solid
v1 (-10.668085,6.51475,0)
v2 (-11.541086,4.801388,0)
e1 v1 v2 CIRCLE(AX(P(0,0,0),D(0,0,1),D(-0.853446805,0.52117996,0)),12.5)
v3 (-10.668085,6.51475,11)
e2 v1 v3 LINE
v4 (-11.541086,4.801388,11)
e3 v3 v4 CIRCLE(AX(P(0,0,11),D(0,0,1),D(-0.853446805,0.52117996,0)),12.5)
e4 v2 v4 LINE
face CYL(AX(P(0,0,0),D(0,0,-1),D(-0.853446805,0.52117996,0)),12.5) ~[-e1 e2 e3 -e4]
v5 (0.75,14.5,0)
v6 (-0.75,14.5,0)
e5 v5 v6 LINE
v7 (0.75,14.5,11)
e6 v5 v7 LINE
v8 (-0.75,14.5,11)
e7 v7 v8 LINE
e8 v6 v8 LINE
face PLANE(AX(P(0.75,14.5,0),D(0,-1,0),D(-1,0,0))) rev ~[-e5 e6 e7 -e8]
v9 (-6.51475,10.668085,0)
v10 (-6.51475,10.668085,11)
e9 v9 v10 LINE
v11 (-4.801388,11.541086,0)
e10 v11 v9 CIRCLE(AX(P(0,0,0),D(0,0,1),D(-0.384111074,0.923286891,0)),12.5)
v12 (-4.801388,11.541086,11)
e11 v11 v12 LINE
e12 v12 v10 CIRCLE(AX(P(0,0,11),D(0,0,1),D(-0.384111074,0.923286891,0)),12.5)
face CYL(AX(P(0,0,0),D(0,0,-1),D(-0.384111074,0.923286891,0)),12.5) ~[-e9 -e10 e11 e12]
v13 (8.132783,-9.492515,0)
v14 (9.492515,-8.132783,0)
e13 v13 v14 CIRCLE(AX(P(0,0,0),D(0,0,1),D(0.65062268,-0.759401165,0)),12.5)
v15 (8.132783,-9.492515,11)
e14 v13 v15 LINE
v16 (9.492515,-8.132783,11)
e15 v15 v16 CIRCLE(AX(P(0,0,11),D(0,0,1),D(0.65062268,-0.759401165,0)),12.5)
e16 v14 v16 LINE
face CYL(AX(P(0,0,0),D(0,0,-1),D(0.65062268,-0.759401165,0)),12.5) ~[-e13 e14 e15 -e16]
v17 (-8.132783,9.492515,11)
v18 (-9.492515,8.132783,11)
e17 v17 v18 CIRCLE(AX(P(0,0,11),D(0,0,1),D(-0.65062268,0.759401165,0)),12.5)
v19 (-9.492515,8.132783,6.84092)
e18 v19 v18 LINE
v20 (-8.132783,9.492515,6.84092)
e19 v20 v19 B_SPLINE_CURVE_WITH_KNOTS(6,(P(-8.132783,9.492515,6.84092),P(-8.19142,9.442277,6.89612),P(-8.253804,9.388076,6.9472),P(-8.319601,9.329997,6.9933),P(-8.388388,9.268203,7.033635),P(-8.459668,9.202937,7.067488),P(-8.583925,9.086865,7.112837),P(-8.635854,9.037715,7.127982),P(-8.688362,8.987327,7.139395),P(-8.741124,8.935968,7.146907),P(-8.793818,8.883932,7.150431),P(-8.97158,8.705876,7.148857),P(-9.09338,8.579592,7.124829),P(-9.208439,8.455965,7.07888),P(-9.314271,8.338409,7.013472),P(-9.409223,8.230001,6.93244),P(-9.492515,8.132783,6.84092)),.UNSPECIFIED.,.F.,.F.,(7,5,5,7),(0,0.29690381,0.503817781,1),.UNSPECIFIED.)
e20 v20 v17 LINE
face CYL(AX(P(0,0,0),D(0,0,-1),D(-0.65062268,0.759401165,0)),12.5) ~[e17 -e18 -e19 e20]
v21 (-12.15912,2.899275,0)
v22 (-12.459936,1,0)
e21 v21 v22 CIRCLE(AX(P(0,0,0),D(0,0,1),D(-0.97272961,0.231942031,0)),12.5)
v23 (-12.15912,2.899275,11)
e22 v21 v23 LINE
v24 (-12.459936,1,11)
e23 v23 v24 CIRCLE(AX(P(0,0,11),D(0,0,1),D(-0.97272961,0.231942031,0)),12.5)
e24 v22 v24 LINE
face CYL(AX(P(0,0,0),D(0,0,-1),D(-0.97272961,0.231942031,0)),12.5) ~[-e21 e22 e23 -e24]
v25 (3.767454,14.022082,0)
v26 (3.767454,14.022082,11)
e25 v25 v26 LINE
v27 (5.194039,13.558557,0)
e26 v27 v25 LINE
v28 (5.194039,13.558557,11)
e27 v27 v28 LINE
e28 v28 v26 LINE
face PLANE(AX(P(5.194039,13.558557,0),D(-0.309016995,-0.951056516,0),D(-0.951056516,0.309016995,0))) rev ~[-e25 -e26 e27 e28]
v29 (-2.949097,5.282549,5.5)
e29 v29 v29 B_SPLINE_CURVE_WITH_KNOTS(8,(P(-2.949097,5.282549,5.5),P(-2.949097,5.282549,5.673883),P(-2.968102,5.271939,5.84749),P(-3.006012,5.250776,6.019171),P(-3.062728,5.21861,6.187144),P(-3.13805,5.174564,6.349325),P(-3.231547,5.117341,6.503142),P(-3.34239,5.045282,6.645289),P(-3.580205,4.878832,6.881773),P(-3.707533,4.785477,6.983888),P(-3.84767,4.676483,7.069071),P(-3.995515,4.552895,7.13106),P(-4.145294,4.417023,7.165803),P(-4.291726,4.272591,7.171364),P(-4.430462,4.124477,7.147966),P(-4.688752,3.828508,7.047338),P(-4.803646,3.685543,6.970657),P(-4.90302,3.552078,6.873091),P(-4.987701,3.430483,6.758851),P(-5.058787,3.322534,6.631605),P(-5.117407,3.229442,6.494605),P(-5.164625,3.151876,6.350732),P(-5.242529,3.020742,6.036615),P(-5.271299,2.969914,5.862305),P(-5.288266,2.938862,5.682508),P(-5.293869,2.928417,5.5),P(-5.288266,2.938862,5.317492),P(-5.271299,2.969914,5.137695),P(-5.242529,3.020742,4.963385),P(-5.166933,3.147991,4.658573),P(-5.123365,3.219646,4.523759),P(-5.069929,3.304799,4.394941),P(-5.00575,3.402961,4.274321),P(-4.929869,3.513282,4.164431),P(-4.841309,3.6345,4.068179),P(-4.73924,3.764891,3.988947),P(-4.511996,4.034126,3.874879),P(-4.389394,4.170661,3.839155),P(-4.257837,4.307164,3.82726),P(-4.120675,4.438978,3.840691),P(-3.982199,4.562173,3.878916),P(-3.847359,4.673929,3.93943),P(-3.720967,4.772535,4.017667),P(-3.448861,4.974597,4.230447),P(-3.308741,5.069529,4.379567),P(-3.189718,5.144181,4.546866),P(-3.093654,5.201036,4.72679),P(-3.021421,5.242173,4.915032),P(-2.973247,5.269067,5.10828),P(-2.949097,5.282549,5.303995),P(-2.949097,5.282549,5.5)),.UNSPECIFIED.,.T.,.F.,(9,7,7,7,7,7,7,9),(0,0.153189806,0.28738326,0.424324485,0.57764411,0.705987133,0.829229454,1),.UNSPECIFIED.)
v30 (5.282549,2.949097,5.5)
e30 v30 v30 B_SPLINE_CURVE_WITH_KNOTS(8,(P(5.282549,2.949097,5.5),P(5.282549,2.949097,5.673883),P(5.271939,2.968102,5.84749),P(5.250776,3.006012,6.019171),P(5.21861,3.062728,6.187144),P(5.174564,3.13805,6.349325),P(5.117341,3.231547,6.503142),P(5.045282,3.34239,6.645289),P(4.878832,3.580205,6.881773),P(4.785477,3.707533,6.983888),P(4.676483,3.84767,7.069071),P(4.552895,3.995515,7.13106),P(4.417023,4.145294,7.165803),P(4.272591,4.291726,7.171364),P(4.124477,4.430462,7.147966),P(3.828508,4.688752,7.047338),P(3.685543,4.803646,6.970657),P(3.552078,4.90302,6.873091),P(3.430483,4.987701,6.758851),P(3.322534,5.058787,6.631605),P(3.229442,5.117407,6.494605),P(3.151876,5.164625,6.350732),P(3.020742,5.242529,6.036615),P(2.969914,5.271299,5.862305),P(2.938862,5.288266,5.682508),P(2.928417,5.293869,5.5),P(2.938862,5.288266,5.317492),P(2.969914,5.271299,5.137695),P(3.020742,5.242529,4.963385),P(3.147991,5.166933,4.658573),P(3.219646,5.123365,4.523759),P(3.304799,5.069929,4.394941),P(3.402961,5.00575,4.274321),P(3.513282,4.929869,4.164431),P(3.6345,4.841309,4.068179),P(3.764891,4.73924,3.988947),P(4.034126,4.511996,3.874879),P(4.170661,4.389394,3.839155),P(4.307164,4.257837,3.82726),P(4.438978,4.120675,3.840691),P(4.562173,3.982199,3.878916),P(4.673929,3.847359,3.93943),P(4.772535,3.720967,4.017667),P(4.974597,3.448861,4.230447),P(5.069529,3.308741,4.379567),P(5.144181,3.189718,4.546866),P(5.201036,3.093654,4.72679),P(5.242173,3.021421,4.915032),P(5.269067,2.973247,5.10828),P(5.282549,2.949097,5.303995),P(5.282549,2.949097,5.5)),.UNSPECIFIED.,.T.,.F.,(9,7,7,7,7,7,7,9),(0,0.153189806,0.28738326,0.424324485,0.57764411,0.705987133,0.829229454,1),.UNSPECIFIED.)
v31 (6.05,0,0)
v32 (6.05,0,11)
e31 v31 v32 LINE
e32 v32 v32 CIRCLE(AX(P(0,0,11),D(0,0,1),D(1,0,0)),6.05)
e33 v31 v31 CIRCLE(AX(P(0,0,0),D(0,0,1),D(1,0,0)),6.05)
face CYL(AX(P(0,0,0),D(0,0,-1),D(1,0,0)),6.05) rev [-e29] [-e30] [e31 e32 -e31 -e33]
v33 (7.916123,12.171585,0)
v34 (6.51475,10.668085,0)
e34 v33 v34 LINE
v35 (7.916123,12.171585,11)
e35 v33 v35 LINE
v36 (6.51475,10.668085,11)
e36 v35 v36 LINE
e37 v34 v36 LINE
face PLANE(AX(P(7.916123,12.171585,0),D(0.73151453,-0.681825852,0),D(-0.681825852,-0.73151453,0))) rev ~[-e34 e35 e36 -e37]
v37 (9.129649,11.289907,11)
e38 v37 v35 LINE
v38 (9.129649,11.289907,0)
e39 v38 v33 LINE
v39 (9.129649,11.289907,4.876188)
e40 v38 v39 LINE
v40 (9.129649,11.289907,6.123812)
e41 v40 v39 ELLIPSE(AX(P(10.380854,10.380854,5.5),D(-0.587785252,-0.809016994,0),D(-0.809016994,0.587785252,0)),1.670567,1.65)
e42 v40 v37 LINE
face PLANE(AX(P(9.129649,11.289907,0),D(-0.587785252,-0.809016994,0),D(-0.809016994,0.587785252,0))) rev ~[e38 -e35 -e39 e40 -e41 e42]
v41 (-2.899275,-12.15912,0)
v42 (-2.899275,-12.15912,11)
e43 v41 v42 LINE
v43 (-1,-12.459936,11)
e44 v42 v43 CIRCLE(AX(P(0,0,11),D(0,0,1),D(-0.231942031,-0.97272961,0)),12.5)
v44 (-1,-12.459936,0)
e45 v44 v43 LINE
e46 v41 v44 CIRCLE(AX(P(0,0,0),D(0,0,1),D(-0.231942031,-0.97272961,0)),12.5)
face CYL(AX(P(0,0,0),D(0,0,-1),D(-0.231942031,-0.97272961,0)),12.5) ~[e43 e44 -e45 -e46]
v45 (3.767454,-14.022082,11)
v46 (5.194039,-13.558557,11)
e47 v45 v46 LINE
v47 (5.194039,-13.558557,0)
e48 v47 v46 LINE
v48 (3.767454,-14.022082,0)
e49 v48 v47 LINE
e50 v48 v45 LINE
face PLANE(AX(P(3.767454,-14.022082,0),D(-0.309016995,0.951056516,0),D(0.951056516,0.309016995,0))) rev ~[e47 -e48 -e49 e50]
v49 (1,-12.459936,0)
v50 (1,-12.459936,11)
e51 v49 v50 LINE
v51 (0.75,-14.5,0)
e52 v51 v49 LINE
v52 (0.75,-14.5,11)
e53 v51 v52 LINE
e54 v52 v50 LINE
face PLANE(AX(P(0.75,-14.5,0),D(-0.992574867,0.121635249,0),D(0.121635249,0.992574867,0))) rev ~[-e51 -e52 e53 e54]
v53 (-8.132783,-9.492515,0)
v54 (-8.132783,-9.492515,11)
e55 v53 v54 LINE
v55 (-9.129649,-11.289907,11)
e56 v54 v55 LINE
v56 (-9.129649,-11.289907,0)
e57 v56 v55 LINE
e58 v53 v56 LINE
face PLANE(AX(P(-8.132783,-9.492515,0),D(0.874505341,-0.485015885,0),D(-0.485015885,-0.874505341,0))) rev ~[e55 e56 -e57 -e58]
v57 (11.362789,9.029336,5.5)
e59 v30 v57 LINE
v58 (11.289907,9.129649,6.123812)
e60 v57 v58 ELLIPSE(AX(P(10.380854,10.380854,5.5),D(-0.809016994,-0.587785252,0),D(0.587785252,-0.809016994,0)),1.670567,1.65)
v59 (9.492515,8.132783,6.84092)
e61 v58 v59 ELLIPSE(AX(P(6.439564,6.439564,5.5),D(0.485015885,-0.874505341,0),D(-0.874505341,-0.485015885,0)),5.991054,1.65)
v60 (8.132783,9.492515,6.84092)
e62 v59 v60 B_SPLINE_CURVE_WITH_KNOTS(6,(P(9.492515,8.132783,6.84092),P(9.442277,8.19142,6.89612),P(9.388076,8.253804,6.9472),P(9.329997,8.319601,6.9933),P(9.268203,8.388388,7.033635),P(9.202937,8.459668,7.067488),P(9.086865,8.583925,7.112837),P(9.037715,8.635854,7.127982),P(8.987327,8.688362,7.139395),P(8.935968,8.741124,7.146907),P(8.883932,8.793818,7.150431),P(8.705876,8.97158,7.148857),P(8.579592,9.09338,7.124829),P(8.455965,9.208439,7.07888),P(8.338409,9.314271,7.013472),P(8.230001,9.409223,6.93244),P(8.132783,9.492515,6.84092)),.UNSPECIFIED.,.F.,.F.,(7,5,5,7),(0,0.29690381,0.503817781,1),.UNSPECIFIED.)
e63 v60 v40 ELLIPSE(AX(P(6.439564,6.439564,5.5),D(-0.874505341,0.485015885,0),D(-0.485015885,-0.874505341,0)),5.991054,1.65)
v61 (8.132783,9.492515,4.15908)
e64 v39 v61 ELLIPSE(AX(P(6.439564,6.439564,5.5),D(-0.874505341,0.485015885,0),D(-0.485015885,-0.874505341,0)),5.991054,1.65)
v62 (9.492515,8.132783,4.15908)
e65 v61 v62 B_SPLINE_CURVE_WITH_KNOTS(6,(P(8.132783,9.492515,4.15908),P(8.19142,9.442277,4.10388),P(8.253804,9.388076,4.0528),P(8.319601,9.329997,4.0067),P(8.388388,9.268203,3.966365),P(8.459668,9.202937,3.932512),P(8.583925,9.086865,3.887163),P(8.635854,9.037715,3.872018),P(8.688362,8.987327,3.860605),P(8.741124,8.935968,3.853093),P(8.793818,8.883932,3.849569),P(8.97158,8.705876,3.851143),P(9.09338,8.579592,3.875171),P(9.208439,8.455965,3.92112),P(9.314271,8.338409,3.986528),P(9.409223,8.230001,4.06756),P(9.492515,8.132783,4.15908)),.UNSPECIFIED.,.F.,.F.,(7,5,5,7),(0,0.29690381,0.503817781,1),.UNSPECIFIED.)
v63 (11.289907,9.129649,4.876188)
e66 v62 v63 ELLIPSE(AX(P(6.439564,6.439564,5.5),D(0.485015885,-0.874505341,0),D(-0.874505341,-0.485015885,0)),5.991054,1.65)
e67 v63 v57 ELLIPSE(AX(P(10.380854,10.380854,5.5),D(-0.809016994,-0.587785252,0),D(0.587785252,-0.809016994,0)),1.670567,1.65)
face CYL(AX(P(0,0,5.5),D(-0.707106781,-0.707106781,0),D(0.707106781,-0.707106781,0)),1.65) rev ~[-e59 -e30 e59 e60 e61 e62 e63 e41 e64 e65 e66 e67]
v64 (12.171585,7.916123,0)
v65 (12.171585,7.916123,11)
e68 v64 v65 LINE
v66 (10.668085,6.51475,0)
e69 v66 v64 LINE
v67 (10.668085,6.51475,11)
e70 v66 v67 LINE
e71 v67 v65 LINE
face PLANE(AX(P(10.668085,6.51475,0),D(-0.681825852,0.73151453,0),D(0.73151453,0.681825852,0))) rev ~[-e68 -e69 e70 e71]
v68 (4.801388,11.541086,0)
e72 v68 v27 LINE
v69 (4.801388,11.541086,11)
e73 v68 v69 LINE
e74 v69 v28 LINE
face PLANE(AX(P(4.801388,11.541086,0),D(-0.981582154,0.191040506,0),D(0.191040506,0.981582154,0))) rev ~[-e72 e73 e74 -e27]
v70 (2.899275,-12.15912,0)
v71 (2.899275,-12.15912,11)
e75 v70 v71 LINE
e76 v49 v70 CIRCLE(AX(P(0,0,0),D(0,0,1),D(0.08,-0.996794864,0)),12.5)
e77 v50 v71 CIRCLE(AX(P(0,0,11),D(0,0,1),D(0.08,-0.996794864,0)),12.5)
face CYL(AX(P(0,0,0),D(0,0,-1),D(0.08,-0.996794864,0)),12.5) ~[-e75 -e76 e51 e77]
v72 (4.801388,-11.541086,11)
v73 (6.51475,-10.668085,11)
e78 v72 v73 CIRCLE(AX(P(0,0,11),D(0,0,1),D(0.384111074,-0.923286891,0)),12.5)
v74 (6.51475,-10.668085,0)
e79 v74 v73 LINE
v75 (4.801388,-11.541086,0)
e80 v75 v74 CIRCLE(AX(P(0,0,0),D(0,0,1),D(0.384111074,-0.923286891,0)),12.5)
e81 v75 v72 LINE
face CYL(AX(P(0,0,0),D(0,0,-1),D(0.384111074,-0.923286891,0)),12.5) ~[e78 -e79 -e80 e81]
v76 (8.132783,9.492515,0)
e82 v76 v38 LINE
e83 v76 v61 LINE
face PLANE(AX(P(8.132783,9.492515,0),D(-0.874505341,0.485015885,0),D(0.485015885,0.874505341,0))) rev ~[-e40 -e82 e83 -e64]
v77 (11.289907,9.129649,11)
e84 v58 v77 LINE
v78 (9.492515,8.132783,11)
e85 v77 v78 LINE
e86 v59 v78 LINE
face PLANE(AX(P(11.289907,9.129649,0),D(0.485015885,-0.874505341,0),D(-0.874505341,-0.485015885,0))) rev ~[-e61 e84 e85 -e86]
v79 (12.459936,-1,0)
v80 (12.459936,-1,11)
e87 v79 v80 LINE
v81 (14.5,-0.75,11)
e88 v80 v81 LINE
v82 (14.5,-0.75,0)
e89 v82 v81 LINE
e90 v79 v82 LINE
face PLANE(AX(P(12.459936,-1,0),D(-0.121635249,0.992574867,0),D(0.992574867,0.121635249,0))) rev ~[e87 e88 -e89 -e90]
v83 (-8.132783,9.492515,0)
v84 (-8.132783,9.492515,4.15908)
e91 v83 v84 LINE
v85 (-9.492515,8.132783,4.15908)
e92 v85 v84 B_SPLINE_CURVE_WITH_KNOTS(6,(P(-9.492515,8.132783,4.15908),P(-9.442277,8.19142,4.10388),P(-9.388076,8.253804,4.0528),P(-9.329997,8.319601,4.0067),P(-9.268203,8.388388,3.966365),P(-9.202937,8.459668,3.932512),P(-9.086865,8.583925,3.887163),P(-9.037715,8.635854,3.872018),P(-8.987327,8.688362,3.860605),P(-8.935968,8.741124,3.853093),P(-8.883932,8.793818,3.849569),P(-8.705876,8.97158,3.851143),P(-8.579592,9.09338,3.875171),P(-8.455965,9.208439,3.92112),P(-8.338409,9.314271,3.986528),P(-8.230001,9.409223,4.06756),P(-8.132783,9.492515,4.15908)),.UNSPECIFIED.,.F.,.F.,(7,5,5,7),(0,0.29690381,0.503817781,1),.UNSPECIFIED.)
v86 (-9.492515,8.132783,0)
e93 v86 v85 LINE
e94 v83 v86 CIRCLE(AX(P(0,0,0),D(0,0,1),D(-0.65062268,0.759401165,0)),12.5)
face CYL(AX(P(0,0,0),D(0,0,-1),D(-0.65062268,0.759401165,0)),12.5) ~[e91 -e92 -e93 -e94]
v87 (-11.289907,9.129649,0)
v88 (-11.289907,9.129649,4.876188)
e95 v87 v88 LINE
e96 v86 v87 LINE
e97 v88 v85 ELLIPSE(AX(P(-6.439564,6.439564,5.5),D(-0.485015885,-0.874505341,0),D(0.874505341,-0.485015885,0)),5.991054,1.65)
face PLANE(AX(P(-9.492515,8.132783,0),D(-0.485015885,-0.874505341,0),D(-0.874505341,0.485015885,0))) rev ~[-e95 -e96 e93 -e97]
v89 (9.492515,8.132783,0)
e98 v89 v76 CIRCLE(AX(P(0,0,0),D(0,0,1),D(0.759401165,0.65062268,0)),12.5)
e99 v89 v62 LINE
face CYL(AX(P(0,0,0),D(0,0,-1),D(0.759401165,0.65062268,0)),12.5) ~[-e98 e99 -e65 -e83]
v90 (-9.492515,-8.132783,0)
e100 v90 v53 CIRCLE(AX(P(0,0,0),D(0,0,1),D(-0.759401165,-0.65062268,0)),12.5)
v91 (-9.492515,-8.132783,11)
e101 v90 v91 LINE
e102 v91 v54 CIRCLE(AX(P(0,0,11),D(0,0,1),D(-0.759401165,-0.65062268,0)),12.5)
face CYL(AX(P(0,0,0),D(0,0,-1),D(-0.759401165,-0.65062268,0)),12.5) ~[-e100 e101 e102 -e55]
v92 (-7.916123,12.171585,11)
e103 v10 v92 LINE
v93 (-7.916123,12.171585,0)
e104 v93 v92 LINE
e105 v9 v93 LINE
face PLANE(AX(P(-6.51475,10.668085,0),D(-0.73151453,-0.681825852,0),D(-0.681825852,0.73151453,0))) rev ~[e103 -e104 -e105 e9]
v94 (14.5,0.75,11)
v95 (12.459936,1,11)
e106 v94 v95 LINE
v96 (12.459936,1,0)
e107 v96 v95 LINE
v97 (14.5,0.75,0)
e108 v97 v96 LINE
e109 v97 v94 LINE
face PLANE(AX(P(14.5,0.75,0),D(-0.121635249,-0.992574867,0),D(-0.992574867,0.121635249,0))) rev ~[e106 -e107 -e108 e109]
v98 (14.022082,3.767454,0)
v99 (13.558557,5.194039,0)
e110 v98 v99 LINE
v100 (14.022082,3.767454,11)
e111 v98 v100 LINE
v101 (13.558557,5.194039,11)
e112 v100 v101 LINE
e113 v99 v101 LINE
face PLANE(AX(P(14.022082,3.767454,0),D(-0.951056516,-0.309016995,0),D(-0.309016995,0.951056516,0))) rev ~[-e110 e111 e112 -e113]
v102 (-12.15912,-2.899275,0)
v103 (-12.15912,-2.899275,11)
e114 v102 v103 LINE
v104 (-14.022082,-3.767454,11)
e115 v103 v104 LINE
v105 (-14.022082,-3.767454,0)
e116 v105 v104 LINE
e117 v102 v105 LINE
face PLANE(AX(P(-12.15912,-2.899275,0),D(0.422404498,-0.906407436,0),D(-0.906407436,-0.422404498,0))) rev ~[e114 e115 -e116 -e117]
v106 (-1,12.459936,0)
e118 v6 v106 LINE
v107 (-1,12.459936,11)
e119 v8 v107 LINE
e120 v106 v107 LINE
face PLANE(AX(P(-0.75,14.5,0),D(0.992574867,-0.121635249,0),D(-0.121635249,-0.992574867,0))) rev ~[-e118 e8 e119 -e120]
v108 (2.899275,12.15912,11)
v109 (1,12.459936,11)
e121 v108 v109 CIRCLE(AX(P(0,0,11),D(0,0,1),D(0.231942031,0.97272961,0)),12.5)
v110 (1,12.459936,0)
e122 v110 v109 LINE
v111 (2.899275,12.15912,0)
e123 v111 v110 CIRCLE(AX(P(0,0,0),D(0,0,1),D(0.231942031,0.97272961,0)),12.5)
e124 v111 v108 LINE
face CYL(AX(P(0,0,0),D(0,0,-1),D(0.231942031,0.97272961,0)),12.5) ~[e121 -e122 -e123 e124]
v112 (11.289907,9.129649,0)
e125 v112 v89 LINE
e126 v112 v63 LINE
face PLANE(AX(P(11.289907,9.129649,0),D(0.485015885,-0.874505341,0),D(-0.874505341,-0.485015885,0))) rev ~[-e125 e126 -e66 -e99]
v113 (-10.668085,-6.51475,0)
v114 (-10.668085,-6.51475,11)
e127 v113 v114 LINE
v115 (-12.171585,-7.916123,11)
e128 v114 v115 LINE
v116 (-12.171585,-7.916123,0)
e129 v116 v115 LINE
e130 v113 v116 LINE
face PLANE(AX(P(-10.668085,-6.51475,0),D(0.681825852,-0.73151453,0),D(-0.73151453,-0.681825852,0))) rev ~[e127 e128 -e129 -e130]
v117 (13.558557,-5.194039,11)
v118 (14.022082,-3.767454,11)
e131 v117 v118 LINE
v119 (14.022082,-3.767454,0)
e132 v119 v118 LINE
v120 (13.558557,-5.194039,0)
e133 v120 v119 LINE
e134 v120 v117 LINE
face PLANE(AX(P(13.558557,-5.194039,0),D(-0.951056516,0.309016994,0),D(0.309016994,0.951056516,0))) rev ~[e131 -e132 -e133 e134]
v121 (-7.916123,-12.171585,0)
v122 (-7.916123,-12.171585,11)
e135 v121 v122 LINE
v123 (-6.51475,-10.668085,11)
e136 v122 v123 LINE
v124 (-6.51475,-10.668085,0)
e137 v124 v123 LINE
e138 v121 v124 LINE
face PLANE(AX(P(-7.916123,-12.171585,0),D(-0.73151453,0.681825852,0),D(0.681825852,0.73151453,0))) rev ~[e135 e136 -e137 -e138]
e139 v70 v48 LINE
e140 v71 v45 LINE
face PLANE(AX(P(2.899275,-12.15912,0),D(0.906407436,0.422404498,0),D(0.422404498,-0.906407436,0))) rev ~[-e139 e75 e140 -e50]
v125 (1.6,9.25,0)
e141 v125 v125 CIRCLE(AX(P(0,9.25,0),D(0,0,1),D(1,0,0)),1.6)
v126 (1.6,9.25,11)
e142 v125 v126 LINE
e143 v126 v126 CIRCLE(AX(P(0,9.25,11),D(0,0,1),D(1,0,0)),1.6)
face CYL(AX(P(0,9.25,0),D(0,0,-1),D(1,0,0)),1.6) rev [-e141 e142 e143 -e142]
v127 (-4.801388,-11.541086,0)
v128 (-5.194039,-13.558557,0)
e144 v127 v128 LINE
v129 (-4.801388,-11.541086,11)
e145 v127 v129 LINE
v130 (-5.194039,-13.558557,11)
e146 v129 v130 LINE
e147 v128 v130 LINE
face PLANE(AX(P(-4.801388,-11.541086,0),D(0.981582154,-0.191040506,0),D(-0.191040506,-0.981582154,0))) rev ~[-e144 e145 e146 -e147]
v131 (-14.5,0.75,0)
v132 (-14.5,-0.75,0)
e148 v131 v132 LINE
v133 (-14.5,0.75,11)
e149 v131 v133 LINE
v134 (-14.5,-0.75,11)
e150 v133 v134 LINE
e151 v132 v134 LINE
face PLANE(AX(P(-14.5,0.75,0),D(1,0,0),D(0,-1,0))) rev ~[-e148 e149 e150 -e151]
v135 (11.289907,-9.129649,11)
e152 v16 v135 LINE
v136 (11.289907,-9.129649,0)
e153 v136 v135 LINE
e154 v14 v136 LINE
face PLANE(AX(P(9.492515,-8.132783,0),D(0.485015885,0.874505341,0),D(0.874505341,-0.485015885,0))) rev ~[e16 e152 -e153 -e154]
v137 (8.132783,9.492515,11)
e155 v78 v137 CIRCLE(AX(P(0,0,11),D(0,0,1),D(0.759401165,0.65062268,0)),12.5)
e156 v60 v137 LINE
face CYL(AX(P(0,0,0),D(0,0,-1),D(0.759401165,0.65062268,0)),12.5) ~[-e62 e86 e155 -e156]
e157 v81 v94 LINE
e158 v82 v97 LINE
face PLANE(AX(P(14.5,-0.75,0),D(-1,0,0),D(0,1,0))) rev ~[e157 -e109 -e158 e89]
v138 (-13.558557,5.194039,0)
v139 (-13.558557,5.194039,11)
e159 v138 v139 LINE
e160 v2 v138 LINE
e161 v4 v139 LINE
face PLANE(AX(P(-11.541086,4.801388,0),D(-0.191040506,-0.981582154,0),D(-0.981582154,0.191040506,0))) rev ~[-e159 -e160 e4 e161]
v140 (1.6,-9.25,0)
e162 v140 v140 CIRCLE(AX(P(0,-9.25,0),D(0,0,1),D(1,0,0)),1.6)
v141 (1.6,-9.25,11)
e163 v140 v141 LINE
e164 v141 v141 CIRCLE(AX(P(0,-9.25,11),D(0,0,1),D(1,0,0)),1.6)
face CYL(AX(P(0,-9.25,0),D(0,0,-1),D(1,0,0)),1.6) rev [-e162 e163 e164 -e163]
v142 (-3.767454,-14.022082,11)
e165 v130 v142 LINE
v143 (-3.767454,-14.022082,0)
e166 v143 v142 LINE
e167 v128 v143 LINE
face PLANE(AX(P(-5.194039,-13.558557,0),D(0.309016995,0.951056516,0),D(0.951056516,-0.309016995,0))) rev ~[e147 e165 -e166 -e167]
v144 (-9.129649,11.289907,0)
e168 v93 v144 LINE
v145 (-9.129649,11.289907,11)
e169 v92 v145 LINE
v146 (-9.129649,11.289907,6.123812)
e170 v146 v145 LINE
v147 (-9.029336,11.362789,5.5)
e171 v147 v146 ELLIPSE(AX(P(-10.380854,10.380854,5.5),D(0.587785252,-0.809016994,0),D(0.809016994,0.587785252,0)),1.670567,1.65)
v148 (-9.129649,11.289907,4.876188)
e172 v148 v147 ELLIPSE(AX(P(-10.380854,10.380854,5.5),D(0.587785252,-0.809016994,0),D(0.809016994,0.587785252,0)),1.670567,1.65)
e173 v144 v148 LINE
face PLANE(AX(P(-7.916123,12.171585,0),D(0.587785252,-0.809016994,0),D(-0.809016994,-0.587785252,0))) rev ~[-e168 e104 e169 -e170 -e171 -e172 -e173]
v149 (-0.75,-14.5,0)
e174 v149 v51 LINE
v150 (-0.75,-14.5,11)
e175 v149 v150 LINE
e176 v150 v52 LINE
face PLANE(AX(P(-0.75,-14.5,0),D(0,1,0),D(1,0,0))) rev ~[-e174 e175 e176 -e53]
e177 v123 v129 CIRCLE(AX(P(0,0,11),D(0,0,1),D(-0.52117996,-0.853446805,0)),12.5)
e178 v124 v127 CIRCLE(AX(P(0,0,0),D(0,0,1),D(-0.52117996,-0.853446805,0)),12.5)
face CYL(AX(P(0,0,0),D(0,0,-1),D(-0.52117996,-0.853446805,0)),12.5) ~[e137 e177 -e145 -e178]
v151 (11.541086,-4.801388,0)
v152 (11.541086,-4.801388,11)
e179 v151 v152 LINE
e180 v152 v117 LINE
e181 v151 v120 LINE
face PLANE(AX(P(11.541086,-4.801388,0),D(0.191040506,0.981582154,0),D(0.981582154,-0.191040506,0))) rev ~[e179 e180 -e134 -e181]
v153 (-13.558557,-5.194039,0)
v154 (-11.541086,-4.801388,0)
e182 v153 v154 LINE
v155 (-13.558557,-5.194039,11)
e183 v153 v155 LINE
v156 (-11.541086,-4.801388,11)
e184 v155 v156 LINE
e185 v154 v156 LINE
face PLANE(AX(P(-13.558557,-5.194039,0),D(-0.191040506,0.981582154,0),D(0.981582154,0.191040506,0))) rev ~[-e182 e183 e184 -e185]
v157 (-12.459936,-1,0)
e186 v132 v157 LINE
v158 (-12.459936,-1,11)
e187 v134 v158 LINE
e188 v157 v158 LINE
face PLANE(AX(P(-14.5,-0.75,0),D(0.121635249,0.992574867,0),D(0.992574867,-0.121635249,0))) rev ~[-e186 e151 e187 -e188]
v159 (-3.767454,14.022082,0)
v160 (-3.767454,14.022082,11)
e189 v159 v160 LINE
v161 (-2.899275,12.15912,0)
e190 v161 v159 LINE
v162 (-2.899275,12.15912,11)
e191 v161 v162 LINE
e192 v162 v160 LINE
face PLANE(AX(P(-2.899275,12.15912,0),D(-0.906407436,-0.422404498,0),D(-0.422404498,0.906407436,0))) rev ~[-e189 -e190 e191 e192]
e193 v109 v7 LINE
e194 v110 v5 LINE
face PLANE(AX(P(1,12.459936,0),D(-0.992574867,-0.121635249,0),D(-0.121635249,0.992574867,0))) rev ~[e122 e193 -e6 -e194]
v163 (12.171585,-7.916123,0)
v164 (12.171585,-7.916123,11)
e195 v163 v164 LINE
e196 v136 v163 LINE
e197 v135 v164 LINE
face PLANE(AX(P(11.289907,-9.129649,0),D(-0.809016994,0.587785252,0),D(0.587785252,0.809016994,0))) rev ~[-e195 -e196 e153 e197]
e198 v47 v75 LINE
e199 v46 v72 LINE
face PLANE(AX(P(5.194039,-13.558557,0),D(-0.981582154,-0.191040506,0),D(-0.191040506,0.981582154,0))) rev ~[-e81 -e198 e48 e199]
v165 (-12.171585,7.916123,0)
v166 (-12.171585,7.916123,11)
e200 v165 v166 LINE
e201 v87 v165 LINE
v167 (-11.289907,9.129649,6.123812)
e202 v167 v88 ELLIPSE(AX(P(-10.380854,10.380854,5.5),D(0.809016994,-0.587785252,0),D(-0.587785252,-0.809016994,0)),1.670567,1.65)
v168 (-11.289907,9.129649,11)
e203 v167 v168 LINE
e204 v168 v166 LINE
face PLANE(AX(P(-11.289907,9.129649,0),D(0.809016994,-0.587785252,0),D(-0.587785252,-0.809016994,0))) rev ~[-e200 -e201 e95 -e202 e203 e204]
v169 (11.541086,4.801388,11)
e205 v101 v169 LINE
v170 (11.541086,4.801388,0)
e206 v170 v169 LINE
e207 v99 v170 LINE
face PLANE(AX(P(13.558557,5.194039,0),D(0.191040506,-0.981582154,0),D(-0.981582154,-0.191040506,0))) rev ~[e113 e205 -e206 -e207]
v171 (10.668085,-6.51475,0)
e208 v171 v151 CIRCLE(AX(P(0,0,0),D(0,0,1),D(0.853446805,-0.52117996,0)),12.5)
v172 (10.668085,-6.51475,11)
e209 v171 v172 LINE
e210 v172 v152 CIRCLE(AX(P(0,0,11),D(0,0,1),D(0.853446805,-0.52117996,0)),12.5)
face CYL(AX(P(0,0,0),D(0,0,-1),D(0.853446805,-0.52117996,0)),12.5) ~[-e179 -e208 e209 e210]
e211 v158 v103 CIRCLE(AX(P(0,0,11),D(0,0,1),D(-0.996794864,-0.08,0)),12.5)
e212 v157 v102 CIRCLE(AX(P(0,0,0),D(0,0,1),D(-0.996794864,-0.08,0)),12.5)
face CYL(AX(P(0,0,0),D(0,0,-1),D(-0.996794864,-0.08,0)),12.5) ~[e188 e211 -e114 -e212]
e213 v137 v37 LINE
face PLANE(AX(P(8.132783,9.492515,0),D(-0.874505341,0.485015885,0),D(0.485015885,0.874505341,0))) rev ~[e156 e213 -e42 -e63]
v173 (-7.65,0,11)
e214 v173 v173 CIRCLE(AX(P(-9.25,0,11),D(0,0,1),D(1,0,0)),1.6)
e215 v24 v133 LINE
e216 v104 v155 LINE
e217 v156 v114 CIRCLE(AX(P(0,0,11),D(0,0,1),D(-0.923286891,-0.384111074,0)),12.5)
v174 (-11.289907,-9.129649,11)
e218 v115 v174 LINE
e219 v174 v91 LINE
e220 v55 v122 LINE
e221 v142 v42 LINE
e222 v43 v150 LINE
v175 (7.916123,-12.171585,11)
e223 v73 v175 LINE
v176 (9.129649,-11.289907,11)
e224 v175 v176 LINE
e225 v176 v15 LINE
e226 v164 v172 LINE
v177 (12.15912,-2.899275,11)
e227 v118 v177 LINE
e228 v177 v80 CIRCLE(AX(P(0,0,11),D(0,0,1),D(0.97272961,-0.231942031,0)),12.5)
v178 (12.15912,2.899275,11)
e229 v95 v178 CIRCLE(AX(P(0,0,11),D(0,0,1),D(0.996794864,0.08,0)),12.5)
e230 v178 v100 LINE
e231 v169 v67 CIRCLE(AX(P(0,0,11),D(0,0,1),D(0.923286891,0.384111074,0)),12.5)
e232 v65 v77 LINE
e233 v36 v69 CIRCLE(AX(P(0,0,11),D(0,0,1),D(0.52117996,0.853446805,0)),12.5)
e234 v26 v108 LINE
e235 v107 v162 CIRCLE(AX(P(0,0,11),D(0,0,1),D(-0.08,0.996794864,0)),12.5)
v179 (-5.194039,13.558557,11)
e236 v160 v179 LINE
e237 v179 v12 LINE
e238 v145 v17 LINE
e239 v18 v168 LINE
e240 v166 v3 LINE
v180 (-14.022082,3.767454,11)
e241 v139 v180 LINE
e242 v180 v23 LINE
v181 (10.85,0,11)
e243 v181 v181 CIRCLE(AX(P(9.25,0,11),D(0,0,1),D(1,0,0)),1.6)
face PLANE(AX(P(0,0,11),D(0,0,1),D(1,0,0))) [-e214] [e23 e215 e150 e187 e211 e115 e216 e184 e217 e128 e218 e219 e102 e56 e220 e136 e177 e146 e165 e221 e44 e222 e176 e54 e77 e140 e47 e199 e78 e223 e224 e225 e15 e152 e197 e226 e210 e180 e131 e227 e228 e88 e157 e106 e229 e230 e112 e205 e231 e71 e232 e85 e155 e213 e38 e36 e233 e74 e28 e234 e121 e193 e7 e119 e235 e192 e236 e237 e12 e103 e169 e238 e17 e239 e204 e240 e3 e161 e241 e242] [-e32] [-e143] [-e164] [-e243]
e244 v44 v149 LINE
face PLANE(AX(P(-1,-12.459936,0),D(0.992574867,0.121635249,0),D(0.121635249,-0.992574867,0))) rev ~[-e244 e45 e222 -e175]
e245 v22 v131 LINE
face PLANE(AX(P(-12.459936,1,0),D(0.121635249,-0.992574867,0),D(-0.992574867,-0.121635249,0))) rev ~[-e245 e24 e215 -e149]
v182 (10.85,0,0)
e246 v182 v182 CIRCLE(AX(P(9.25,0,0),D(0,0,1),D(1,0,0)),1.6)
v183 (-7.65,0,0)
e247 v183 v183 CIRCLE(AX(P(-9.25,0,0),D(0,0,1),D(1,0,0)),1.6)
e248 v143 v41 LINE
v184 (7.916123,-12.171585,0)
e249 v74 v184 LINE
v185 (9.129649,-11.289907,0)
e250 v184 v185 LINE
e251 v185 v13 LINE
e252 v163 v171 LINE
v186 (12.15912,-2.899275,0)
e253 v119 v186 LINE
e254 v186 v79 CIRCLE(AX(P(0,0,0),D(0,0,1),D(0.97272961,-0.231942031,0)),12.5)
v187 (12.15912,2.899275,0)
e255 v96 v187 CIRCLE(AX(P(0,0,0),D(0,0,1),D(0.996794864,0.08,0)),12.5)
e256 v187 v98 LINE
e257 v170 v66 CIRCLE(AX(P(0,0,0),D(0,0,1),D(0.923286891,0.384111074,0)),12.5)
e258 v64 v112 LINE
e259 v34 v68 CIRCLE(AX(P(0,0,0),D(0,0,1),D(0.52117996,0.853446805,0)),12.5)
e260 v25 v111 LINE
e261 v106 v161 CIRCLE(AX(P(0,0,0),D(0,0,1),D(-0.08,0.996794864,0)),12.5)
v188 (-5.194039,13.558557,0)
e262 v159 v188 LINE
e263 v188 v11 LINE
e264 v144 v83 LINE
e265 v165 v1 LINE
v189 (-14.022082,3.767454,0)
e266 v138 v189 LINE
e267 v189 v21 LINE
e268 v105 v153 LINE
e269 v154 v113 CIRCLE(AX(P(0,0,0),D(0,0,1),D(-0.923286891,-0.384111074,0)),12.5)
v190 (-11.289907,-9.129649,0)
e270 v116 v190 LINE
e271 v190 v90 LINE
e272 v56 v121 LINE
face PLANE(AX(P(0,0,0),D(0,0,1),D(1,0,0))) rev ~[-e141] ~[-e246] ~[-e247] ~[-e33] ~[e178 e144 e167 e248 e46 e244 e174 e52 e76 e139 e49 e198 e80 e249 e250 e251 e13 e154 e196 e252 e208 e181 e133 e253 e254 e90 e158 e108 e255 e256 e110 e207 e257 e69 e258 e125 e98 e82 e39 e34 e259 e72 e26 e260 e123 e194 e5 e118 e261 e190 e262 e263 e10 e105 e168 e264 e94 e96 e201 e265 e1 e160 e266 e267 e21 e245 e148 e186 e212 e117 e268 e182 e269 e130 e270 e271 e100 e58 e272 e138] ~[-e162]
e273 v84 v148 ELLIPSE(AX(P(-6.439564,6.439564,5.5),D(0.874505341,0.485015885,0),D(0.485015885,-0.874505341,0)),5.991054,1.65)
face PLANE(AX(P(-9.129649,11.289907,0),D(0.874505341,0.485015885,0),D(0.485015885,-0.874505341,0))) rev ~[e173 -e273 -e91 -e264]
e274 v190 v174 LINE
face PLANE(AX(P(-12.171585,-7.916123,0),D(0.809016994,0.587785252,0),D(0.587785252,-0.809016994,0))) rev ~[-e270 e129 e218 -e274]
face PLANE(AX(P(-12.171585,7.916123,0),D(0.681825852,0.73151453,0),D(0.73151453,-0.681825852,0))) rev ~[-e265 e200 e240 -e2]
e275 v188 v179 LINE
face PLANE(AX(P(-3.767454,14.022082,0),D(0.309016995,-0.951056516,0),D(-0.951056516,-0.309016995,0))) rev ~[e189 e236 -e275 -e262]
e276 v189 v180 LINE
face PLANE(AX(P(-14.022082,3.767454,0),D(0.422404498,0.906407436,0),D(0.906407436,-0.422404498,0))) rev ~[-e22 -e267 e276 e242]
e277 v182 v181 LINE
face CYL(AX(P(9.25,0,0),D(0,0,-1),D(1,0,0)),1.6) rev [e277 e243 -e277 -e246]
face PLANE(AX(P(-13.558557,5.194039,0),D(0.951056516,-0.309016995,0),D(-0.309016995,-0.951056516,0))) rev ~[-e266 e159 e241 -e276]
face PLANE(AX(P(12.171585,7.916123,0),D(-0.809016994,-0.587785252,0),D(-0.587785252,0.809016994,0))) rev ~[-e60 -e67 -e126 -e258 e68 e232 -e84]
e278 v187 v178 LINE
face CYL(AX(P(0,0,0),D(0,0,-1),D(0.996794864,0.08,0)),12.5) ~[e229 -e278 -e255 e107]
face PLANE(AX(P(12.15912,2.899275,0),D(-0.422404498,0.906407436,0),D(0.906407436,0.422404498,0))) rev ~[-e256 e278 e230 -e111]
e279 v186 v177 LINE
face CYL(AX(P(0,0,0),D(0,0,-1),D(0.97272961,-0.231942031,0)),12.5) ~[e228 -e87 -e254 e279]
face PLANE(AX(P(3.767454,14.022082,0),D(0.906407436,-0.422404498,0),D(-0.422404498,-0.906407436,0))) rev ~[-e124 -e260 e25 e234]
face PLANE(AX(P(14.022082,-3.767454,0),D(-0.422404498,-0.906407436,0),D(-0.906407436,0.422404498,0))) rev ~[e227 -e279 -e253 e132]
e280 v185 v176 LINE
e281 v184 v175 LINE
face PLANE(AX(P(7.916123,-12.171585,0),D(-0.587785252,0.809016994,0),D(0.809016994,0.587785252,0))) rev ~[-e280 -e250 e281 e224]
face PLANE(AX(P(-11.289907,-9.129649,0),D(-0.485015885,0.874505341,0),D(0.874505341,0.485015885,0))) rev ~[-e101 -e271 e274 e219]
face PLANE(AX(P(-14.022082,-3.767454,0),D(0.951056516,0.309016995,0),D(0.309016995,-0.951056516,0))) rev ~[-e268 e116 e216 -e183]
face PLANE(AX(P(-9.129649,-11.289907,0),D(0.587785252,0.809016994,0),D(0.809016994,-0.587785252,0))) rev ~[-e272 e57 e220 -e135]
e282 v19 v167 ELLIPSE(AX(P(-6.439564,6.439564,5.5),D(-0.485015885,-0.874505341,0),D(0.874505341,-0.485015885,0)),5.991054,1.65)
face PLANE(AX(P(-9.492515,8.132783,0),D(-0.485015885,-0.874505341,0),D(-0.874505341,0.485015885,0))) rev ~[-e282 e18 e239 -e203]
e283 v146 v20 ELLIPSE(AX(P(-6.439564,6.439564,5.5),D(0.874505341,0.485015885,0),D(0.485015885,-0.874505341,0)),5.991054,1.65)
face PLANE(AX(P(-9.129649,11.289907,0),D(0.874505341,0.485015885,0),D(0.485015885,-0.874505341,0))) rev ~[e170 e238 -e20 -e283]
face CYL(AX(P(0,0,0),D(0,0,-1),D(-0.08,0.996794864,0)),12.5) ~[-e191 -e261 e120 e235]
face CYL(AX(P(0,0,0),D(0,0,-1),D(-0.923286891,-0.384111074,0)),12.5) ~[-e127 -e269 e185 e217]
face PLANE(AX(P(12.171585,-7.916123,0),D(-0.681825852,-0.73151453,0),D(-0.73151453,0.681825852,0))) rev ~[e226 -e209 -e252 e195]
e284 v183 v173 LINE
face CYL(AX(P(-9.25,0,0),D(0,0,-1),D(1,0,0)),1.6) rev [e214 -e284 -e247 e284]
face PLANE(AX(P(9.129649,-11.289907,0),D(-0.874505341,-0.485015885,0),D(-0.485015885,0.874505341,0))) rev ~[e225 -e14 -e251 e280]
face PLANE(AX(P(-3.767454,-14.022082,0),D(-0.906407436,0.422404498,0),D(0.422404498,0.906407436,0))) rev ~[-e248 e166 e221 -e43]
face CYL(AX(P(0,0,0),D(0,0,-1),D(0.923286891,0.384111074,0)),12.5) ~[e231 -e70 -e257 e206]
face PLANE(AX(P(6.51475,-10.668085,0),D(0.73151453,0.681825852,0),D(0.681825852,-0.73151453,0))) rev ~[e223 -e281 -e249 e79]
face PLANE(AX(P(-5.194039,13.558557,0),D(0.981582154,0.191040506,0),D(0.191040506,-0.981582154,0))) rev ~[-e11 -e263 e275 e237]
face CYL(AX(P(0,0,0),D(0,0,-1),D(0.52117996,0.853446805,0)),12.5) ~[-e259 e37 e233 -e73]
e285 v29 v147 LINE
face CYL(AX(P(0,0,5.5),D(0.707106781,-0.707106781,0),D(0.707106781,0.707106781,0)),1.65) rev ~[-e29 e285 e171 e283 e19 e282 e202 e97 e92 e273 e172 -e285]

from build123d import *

# Parameters (mm, degrees)
SKETCH_1_R          = 1.6
SKETCH_1_R_2        = 6.05
EXTRUDE_1_DEPTH     = 11
SKETCH_2_R          = 1.65
CUT_EXTRUDE_3_DEPTH = 24.270152556
SKETCH_3_R          = 1.65
CUT_EXTRUDE_4_DEPTH = 24.270152604


with BuildPart() as part:
    # ｽｹｯﾁ1 → ﾎﾞｽ - 押し出し1 (new body)
    with BuildSketch(Plane.XY):
        with BuildLine():
            Line((1, 12.459935794), (0.75, 14.5))
            Line((0.75, 14.5), (-0.75, 14.5))
            Line((-0.75, 14.5), (-1, 12.459935794))
            ThreePointArc((-1, 12.459935794), (-1.955430813, 12.346104257), (-2.899275393, 12.159120124))
            Line((-2.899275393, 12.159120124), (-3.767454031, 14.022082232))
            Line((-3.767454031, 14.022082232), (-5.194038806, 13.55855674))
            Line((-5.194038806, 13.55855674), (-4.801388426, 11.541086135))
            ThreePointArc((-4.801388426, 11.541086135), (-5.674881247, 11.137581552), (-6.51474951, 10.668085059))
            Line((-6.51474951, 10.668085059), (-7.916123412, 12.171585358))
            Line((-7.916123412, 12.171585358), (-9.129648904, 11.289907479))
            Line((-9.129648904, 11.289907479), (-8.132783499, 9.492514554))
            ThreePointArc((-8.132783499, 9.492514554), (-8.838834765, 8.838834765), (-9.492514554, 8.132783499))
            Line((-9.492514554, 8.132783499), (-11.289907479, 9.129648904))
            Line((-11.289907479, 9.129648904), (-12.171585358, 7.916123412))
            Line((-12.171585358, 7.916123412), (-10.668085059, 6.51474951))
            ThreePointArc((-10.668085059, 6.51474951), (-11.137581552, 5.674881247), (-11.541086135, 4.801388426))
            Line((-11.541086135, 4.801388426), (-13.55855674, 5.194038806))
            Line((-13.55855674, 5.194038806), (-14.022082232, 3.767454031))
            Line((-14.022082232, 3.767454031), (-12.159120124, 2.899275393))
            ThreePointArc((-12.159120124, 2.899275393), (-12.346104257, 1.955430813), (-12.459935794, 1))
            Line((-12.459935794, 1), (-14.5, 0.75))
            Line((-14.5, 0.75), (-14.5, -0.75))
            Line((-14.5, -0.75), (-12.459935794, -1))
            ThreePointArc((-12.459935794, -1), (-12.346104257, -1.955430813), (-12.159120124, -2.899275393))
            Line((-12.159120124, -2.899275393), (-14.022082232, -3.767454031))
            Line((-14.022082232, -3.767454031), (-13.55855674, -5.194038806))
            Line((-13.55855674, -5.194038806), (-11.541086135, -4.801388426))
            ThreePointArc((-11.541086135, -4.801388426), (-11.137581552, -5.674881247), (-10.668085059, -6.51474951))
            Line((-10.668085059, -6.51474951), (-12.171585358, -7.916123412))
            Line((-12.171585358, -7.916123412), (-11.289907479, -9.129648904))
            Line((-11.289907479, -9.129648904), (-9.492514554, -8.132783499))
            ThreePointArc((-9.492514554, -8.132783499), (-8.838834765, -8.838834765), (-8.132783499, -9.492514554))
            Line((-8.132783499, -9.492514554), (-9.129648904, -11.289907479))
            Line((-9.129648904, -11.289907479), (-7.916123412, -12.171585358))
            Line((-7.916123412, -12.171585358), (-6.51474951, -10.668085059))
            ThreePointArc((-6.51474951, -10.668085059), (-5.674881247, -11.137581552), (-4.801388426, -11.541086135))
            Line((-4.801388426, -11.541086135), (-5.194038806, -13.55855674))
            Line((-5.194038806, -13.55855674), (-3.767454031, -14.022082232))
            Line((-3.767454031, -14.022082232), (-2.899275393, -12.159120124))
            ThreePointArc((-2.899275393, -12.159120124), (-1.955430813, -12.346104257), (-1, -12.459935794))
            Line((-1, -12.459935794), (-0.75, -14.5))
            Line((-0.75, -14.5), (0.75, -14.5))
            Line((0.75, -14.5), (1, -12.459935794))
            ThreePointArc((1, -12.459935794), (1.955430813, -12.346104257), (2.899275393, -12.159120124))
            Line((2.899275393, -12.159120124), (3.767454031, -14.022082232))
            Line((3.767454031, -14.022082232), (5.194038806, -13.55855674))
            Line((5.194038806, -13.55855674), (4.801388426, -11.541086135))
            ThreePointArc((4.801388426, -11.541086135), (5.674881247, -11.137581552), (6.51474951, -10.668085059))
            Line((6.51474951, -10.668085059), (7.916123412, -12.171585358))
            Line((7.916123412, -12.171585358), (9.129648904, -11.289907479))
            Line((9.129648904, -11.289907479), (8.132783499, -9.492514554))
            ThreePointArc((8.132783499, -9.492514554), (8.838834765, -8.838834765), (9.492514554, -8.132783499))
            Line((9.492514554, -8.132783499), (11.289907479, -9.129648904))
            Line((11.289907479, -9.129648904), (12.171585358, -7.916123412))
            Line((12.171585358, -7.916123412), (10.668085059, -6.51474951))
            ThreePointArc((10.668085059, -6.51474951), (11.137581552, -5.674881247), (11.541086135, -4.801388426))
            Line((11.541086135, -4.801388426), (13.558556741, -5.194038806))
            Line((13.558556741, -5.194038806), (14.022082232, -3.767454031))
            Line((14.022082232, -3.767454031), (12.159120124, -2.899275393))
            ThreePointArc((12.159120124, -2.899275393), (12.346104257, -1.955430813), (12.459935794, -1))
            Line((12.459935794, -1), (14.5, -0.75))
            Line((14.5, -0.75), (14.5, 0.75))
            Line((14.5, 0.75), (12.459935794, 1))
            ThreePointArc((12.459935794, 1), (12.346104257, 1.955430813), (12.159120124, 2.899275393))
            Line((12.159120124, 2.899275393), (14.022082232, 3.767454031))
            Line((14.022082232, 3.767454031), (13.55855674, 5.194038806))
            Line((13.55855674, 5.194038806), (11.541086135, 4.801388426))
            ThreePointArc((11.541086135, 4.801388426), (11.137581552, 5.674881247), (10.668085059, 6.51474951))
            Line((10.668085059, 6.51474951), (12.171585358, 7.916123412))
            Line((12.171585358, 7.916123412), (11.289907479, 9.129648904))
            Line((11.289907479, 9.129648904), (9.492514554, 8.132783499))
            ThreePointArc((9.492514554, 8.132783499), (8.838834765, 8.838834765), (8.132783499, 9.492514554))
            Line((8.132783499, 9.492514554), (9.129648904, 11.289907479))
            Line((9.129648904, 11.289907479), (7.916123412, 12.171585358))
            Line((7.916123412, 12.171585358), (6.51474951, 10.668085059))
            ThreePointArc((6.51474951, 10.668085059), (5.674881247, 11.137581552), (4.801388426, 11.541086135))
            Line((4.801388426, 11.541086135), (5.194038806, 13.55855674))
            Line((5.194038806, 13.55855674), (3.767454031, 14.022082232))
            Line((3.767454031, 14.022082232), (2.899275393, 12.159120124))
            ThreePointArc((2.899275393, 12.159120124), (1.955430813, 12.346104257), (1, 12.459935794))
        make_face()
        with Locations((-9.25, 0)):
            Circle(SKETCH_1_R, mode=Mode.SUBTRACT)
        with Locations((0, -9.25)):
            Circle(SKETCH_1_R, mode=Mode.SUBTRACT)
        Circle(SKETCH_1_R_2, mode=Mode.SUBTRACT)
        with Locations((9.25, 0)):
            Circle(SKETCH_1_R, mode=Mode.SUBTRACT)
        with Locations((0, 9.25)):
            Circle(SKETCH_1_R, mode=Mode.SUBTRACT)
    extrude(amount=EXTRUDE_1_DEPTH)

    # ｽｹｯﾁ2 → ｶｯﾄ - 押し出し3 (cut, through all)
    with BuildSketch(Plane(origin=(0, 0, 0), x_dir=(0, 0, -1), z_dir=(0.7071067811865464, -0.7071067811865488, 0))):
        with Locations(Location((-5.5, 0, 0), (0, 0, 90))):
            Circle(SKETCH_2_R)
    extrude(amount=-CUT_EXTRUDE_3_DEPTH, mode=Mode.SUBTRACT)

    # ｽｹｯﾁ3 → ｶｯﾄ - 押し出し4 (cut, through all)
    with BuildSketch(Plane(origin=(0, 0, 0), x_dir=(0, 0, -1), z_dir=(-0.7071067811865512, -0.7071067811865439, 0))):
        with Locations(Location((-5.5, 0, 0), (0, 0, 90))):
            Circle(SKETCH_3_R)
    extrude(amount=-CUT_EXTRUDE_4_DEPTH, mode=Mode.SUBTRACT)


solid = part.part
